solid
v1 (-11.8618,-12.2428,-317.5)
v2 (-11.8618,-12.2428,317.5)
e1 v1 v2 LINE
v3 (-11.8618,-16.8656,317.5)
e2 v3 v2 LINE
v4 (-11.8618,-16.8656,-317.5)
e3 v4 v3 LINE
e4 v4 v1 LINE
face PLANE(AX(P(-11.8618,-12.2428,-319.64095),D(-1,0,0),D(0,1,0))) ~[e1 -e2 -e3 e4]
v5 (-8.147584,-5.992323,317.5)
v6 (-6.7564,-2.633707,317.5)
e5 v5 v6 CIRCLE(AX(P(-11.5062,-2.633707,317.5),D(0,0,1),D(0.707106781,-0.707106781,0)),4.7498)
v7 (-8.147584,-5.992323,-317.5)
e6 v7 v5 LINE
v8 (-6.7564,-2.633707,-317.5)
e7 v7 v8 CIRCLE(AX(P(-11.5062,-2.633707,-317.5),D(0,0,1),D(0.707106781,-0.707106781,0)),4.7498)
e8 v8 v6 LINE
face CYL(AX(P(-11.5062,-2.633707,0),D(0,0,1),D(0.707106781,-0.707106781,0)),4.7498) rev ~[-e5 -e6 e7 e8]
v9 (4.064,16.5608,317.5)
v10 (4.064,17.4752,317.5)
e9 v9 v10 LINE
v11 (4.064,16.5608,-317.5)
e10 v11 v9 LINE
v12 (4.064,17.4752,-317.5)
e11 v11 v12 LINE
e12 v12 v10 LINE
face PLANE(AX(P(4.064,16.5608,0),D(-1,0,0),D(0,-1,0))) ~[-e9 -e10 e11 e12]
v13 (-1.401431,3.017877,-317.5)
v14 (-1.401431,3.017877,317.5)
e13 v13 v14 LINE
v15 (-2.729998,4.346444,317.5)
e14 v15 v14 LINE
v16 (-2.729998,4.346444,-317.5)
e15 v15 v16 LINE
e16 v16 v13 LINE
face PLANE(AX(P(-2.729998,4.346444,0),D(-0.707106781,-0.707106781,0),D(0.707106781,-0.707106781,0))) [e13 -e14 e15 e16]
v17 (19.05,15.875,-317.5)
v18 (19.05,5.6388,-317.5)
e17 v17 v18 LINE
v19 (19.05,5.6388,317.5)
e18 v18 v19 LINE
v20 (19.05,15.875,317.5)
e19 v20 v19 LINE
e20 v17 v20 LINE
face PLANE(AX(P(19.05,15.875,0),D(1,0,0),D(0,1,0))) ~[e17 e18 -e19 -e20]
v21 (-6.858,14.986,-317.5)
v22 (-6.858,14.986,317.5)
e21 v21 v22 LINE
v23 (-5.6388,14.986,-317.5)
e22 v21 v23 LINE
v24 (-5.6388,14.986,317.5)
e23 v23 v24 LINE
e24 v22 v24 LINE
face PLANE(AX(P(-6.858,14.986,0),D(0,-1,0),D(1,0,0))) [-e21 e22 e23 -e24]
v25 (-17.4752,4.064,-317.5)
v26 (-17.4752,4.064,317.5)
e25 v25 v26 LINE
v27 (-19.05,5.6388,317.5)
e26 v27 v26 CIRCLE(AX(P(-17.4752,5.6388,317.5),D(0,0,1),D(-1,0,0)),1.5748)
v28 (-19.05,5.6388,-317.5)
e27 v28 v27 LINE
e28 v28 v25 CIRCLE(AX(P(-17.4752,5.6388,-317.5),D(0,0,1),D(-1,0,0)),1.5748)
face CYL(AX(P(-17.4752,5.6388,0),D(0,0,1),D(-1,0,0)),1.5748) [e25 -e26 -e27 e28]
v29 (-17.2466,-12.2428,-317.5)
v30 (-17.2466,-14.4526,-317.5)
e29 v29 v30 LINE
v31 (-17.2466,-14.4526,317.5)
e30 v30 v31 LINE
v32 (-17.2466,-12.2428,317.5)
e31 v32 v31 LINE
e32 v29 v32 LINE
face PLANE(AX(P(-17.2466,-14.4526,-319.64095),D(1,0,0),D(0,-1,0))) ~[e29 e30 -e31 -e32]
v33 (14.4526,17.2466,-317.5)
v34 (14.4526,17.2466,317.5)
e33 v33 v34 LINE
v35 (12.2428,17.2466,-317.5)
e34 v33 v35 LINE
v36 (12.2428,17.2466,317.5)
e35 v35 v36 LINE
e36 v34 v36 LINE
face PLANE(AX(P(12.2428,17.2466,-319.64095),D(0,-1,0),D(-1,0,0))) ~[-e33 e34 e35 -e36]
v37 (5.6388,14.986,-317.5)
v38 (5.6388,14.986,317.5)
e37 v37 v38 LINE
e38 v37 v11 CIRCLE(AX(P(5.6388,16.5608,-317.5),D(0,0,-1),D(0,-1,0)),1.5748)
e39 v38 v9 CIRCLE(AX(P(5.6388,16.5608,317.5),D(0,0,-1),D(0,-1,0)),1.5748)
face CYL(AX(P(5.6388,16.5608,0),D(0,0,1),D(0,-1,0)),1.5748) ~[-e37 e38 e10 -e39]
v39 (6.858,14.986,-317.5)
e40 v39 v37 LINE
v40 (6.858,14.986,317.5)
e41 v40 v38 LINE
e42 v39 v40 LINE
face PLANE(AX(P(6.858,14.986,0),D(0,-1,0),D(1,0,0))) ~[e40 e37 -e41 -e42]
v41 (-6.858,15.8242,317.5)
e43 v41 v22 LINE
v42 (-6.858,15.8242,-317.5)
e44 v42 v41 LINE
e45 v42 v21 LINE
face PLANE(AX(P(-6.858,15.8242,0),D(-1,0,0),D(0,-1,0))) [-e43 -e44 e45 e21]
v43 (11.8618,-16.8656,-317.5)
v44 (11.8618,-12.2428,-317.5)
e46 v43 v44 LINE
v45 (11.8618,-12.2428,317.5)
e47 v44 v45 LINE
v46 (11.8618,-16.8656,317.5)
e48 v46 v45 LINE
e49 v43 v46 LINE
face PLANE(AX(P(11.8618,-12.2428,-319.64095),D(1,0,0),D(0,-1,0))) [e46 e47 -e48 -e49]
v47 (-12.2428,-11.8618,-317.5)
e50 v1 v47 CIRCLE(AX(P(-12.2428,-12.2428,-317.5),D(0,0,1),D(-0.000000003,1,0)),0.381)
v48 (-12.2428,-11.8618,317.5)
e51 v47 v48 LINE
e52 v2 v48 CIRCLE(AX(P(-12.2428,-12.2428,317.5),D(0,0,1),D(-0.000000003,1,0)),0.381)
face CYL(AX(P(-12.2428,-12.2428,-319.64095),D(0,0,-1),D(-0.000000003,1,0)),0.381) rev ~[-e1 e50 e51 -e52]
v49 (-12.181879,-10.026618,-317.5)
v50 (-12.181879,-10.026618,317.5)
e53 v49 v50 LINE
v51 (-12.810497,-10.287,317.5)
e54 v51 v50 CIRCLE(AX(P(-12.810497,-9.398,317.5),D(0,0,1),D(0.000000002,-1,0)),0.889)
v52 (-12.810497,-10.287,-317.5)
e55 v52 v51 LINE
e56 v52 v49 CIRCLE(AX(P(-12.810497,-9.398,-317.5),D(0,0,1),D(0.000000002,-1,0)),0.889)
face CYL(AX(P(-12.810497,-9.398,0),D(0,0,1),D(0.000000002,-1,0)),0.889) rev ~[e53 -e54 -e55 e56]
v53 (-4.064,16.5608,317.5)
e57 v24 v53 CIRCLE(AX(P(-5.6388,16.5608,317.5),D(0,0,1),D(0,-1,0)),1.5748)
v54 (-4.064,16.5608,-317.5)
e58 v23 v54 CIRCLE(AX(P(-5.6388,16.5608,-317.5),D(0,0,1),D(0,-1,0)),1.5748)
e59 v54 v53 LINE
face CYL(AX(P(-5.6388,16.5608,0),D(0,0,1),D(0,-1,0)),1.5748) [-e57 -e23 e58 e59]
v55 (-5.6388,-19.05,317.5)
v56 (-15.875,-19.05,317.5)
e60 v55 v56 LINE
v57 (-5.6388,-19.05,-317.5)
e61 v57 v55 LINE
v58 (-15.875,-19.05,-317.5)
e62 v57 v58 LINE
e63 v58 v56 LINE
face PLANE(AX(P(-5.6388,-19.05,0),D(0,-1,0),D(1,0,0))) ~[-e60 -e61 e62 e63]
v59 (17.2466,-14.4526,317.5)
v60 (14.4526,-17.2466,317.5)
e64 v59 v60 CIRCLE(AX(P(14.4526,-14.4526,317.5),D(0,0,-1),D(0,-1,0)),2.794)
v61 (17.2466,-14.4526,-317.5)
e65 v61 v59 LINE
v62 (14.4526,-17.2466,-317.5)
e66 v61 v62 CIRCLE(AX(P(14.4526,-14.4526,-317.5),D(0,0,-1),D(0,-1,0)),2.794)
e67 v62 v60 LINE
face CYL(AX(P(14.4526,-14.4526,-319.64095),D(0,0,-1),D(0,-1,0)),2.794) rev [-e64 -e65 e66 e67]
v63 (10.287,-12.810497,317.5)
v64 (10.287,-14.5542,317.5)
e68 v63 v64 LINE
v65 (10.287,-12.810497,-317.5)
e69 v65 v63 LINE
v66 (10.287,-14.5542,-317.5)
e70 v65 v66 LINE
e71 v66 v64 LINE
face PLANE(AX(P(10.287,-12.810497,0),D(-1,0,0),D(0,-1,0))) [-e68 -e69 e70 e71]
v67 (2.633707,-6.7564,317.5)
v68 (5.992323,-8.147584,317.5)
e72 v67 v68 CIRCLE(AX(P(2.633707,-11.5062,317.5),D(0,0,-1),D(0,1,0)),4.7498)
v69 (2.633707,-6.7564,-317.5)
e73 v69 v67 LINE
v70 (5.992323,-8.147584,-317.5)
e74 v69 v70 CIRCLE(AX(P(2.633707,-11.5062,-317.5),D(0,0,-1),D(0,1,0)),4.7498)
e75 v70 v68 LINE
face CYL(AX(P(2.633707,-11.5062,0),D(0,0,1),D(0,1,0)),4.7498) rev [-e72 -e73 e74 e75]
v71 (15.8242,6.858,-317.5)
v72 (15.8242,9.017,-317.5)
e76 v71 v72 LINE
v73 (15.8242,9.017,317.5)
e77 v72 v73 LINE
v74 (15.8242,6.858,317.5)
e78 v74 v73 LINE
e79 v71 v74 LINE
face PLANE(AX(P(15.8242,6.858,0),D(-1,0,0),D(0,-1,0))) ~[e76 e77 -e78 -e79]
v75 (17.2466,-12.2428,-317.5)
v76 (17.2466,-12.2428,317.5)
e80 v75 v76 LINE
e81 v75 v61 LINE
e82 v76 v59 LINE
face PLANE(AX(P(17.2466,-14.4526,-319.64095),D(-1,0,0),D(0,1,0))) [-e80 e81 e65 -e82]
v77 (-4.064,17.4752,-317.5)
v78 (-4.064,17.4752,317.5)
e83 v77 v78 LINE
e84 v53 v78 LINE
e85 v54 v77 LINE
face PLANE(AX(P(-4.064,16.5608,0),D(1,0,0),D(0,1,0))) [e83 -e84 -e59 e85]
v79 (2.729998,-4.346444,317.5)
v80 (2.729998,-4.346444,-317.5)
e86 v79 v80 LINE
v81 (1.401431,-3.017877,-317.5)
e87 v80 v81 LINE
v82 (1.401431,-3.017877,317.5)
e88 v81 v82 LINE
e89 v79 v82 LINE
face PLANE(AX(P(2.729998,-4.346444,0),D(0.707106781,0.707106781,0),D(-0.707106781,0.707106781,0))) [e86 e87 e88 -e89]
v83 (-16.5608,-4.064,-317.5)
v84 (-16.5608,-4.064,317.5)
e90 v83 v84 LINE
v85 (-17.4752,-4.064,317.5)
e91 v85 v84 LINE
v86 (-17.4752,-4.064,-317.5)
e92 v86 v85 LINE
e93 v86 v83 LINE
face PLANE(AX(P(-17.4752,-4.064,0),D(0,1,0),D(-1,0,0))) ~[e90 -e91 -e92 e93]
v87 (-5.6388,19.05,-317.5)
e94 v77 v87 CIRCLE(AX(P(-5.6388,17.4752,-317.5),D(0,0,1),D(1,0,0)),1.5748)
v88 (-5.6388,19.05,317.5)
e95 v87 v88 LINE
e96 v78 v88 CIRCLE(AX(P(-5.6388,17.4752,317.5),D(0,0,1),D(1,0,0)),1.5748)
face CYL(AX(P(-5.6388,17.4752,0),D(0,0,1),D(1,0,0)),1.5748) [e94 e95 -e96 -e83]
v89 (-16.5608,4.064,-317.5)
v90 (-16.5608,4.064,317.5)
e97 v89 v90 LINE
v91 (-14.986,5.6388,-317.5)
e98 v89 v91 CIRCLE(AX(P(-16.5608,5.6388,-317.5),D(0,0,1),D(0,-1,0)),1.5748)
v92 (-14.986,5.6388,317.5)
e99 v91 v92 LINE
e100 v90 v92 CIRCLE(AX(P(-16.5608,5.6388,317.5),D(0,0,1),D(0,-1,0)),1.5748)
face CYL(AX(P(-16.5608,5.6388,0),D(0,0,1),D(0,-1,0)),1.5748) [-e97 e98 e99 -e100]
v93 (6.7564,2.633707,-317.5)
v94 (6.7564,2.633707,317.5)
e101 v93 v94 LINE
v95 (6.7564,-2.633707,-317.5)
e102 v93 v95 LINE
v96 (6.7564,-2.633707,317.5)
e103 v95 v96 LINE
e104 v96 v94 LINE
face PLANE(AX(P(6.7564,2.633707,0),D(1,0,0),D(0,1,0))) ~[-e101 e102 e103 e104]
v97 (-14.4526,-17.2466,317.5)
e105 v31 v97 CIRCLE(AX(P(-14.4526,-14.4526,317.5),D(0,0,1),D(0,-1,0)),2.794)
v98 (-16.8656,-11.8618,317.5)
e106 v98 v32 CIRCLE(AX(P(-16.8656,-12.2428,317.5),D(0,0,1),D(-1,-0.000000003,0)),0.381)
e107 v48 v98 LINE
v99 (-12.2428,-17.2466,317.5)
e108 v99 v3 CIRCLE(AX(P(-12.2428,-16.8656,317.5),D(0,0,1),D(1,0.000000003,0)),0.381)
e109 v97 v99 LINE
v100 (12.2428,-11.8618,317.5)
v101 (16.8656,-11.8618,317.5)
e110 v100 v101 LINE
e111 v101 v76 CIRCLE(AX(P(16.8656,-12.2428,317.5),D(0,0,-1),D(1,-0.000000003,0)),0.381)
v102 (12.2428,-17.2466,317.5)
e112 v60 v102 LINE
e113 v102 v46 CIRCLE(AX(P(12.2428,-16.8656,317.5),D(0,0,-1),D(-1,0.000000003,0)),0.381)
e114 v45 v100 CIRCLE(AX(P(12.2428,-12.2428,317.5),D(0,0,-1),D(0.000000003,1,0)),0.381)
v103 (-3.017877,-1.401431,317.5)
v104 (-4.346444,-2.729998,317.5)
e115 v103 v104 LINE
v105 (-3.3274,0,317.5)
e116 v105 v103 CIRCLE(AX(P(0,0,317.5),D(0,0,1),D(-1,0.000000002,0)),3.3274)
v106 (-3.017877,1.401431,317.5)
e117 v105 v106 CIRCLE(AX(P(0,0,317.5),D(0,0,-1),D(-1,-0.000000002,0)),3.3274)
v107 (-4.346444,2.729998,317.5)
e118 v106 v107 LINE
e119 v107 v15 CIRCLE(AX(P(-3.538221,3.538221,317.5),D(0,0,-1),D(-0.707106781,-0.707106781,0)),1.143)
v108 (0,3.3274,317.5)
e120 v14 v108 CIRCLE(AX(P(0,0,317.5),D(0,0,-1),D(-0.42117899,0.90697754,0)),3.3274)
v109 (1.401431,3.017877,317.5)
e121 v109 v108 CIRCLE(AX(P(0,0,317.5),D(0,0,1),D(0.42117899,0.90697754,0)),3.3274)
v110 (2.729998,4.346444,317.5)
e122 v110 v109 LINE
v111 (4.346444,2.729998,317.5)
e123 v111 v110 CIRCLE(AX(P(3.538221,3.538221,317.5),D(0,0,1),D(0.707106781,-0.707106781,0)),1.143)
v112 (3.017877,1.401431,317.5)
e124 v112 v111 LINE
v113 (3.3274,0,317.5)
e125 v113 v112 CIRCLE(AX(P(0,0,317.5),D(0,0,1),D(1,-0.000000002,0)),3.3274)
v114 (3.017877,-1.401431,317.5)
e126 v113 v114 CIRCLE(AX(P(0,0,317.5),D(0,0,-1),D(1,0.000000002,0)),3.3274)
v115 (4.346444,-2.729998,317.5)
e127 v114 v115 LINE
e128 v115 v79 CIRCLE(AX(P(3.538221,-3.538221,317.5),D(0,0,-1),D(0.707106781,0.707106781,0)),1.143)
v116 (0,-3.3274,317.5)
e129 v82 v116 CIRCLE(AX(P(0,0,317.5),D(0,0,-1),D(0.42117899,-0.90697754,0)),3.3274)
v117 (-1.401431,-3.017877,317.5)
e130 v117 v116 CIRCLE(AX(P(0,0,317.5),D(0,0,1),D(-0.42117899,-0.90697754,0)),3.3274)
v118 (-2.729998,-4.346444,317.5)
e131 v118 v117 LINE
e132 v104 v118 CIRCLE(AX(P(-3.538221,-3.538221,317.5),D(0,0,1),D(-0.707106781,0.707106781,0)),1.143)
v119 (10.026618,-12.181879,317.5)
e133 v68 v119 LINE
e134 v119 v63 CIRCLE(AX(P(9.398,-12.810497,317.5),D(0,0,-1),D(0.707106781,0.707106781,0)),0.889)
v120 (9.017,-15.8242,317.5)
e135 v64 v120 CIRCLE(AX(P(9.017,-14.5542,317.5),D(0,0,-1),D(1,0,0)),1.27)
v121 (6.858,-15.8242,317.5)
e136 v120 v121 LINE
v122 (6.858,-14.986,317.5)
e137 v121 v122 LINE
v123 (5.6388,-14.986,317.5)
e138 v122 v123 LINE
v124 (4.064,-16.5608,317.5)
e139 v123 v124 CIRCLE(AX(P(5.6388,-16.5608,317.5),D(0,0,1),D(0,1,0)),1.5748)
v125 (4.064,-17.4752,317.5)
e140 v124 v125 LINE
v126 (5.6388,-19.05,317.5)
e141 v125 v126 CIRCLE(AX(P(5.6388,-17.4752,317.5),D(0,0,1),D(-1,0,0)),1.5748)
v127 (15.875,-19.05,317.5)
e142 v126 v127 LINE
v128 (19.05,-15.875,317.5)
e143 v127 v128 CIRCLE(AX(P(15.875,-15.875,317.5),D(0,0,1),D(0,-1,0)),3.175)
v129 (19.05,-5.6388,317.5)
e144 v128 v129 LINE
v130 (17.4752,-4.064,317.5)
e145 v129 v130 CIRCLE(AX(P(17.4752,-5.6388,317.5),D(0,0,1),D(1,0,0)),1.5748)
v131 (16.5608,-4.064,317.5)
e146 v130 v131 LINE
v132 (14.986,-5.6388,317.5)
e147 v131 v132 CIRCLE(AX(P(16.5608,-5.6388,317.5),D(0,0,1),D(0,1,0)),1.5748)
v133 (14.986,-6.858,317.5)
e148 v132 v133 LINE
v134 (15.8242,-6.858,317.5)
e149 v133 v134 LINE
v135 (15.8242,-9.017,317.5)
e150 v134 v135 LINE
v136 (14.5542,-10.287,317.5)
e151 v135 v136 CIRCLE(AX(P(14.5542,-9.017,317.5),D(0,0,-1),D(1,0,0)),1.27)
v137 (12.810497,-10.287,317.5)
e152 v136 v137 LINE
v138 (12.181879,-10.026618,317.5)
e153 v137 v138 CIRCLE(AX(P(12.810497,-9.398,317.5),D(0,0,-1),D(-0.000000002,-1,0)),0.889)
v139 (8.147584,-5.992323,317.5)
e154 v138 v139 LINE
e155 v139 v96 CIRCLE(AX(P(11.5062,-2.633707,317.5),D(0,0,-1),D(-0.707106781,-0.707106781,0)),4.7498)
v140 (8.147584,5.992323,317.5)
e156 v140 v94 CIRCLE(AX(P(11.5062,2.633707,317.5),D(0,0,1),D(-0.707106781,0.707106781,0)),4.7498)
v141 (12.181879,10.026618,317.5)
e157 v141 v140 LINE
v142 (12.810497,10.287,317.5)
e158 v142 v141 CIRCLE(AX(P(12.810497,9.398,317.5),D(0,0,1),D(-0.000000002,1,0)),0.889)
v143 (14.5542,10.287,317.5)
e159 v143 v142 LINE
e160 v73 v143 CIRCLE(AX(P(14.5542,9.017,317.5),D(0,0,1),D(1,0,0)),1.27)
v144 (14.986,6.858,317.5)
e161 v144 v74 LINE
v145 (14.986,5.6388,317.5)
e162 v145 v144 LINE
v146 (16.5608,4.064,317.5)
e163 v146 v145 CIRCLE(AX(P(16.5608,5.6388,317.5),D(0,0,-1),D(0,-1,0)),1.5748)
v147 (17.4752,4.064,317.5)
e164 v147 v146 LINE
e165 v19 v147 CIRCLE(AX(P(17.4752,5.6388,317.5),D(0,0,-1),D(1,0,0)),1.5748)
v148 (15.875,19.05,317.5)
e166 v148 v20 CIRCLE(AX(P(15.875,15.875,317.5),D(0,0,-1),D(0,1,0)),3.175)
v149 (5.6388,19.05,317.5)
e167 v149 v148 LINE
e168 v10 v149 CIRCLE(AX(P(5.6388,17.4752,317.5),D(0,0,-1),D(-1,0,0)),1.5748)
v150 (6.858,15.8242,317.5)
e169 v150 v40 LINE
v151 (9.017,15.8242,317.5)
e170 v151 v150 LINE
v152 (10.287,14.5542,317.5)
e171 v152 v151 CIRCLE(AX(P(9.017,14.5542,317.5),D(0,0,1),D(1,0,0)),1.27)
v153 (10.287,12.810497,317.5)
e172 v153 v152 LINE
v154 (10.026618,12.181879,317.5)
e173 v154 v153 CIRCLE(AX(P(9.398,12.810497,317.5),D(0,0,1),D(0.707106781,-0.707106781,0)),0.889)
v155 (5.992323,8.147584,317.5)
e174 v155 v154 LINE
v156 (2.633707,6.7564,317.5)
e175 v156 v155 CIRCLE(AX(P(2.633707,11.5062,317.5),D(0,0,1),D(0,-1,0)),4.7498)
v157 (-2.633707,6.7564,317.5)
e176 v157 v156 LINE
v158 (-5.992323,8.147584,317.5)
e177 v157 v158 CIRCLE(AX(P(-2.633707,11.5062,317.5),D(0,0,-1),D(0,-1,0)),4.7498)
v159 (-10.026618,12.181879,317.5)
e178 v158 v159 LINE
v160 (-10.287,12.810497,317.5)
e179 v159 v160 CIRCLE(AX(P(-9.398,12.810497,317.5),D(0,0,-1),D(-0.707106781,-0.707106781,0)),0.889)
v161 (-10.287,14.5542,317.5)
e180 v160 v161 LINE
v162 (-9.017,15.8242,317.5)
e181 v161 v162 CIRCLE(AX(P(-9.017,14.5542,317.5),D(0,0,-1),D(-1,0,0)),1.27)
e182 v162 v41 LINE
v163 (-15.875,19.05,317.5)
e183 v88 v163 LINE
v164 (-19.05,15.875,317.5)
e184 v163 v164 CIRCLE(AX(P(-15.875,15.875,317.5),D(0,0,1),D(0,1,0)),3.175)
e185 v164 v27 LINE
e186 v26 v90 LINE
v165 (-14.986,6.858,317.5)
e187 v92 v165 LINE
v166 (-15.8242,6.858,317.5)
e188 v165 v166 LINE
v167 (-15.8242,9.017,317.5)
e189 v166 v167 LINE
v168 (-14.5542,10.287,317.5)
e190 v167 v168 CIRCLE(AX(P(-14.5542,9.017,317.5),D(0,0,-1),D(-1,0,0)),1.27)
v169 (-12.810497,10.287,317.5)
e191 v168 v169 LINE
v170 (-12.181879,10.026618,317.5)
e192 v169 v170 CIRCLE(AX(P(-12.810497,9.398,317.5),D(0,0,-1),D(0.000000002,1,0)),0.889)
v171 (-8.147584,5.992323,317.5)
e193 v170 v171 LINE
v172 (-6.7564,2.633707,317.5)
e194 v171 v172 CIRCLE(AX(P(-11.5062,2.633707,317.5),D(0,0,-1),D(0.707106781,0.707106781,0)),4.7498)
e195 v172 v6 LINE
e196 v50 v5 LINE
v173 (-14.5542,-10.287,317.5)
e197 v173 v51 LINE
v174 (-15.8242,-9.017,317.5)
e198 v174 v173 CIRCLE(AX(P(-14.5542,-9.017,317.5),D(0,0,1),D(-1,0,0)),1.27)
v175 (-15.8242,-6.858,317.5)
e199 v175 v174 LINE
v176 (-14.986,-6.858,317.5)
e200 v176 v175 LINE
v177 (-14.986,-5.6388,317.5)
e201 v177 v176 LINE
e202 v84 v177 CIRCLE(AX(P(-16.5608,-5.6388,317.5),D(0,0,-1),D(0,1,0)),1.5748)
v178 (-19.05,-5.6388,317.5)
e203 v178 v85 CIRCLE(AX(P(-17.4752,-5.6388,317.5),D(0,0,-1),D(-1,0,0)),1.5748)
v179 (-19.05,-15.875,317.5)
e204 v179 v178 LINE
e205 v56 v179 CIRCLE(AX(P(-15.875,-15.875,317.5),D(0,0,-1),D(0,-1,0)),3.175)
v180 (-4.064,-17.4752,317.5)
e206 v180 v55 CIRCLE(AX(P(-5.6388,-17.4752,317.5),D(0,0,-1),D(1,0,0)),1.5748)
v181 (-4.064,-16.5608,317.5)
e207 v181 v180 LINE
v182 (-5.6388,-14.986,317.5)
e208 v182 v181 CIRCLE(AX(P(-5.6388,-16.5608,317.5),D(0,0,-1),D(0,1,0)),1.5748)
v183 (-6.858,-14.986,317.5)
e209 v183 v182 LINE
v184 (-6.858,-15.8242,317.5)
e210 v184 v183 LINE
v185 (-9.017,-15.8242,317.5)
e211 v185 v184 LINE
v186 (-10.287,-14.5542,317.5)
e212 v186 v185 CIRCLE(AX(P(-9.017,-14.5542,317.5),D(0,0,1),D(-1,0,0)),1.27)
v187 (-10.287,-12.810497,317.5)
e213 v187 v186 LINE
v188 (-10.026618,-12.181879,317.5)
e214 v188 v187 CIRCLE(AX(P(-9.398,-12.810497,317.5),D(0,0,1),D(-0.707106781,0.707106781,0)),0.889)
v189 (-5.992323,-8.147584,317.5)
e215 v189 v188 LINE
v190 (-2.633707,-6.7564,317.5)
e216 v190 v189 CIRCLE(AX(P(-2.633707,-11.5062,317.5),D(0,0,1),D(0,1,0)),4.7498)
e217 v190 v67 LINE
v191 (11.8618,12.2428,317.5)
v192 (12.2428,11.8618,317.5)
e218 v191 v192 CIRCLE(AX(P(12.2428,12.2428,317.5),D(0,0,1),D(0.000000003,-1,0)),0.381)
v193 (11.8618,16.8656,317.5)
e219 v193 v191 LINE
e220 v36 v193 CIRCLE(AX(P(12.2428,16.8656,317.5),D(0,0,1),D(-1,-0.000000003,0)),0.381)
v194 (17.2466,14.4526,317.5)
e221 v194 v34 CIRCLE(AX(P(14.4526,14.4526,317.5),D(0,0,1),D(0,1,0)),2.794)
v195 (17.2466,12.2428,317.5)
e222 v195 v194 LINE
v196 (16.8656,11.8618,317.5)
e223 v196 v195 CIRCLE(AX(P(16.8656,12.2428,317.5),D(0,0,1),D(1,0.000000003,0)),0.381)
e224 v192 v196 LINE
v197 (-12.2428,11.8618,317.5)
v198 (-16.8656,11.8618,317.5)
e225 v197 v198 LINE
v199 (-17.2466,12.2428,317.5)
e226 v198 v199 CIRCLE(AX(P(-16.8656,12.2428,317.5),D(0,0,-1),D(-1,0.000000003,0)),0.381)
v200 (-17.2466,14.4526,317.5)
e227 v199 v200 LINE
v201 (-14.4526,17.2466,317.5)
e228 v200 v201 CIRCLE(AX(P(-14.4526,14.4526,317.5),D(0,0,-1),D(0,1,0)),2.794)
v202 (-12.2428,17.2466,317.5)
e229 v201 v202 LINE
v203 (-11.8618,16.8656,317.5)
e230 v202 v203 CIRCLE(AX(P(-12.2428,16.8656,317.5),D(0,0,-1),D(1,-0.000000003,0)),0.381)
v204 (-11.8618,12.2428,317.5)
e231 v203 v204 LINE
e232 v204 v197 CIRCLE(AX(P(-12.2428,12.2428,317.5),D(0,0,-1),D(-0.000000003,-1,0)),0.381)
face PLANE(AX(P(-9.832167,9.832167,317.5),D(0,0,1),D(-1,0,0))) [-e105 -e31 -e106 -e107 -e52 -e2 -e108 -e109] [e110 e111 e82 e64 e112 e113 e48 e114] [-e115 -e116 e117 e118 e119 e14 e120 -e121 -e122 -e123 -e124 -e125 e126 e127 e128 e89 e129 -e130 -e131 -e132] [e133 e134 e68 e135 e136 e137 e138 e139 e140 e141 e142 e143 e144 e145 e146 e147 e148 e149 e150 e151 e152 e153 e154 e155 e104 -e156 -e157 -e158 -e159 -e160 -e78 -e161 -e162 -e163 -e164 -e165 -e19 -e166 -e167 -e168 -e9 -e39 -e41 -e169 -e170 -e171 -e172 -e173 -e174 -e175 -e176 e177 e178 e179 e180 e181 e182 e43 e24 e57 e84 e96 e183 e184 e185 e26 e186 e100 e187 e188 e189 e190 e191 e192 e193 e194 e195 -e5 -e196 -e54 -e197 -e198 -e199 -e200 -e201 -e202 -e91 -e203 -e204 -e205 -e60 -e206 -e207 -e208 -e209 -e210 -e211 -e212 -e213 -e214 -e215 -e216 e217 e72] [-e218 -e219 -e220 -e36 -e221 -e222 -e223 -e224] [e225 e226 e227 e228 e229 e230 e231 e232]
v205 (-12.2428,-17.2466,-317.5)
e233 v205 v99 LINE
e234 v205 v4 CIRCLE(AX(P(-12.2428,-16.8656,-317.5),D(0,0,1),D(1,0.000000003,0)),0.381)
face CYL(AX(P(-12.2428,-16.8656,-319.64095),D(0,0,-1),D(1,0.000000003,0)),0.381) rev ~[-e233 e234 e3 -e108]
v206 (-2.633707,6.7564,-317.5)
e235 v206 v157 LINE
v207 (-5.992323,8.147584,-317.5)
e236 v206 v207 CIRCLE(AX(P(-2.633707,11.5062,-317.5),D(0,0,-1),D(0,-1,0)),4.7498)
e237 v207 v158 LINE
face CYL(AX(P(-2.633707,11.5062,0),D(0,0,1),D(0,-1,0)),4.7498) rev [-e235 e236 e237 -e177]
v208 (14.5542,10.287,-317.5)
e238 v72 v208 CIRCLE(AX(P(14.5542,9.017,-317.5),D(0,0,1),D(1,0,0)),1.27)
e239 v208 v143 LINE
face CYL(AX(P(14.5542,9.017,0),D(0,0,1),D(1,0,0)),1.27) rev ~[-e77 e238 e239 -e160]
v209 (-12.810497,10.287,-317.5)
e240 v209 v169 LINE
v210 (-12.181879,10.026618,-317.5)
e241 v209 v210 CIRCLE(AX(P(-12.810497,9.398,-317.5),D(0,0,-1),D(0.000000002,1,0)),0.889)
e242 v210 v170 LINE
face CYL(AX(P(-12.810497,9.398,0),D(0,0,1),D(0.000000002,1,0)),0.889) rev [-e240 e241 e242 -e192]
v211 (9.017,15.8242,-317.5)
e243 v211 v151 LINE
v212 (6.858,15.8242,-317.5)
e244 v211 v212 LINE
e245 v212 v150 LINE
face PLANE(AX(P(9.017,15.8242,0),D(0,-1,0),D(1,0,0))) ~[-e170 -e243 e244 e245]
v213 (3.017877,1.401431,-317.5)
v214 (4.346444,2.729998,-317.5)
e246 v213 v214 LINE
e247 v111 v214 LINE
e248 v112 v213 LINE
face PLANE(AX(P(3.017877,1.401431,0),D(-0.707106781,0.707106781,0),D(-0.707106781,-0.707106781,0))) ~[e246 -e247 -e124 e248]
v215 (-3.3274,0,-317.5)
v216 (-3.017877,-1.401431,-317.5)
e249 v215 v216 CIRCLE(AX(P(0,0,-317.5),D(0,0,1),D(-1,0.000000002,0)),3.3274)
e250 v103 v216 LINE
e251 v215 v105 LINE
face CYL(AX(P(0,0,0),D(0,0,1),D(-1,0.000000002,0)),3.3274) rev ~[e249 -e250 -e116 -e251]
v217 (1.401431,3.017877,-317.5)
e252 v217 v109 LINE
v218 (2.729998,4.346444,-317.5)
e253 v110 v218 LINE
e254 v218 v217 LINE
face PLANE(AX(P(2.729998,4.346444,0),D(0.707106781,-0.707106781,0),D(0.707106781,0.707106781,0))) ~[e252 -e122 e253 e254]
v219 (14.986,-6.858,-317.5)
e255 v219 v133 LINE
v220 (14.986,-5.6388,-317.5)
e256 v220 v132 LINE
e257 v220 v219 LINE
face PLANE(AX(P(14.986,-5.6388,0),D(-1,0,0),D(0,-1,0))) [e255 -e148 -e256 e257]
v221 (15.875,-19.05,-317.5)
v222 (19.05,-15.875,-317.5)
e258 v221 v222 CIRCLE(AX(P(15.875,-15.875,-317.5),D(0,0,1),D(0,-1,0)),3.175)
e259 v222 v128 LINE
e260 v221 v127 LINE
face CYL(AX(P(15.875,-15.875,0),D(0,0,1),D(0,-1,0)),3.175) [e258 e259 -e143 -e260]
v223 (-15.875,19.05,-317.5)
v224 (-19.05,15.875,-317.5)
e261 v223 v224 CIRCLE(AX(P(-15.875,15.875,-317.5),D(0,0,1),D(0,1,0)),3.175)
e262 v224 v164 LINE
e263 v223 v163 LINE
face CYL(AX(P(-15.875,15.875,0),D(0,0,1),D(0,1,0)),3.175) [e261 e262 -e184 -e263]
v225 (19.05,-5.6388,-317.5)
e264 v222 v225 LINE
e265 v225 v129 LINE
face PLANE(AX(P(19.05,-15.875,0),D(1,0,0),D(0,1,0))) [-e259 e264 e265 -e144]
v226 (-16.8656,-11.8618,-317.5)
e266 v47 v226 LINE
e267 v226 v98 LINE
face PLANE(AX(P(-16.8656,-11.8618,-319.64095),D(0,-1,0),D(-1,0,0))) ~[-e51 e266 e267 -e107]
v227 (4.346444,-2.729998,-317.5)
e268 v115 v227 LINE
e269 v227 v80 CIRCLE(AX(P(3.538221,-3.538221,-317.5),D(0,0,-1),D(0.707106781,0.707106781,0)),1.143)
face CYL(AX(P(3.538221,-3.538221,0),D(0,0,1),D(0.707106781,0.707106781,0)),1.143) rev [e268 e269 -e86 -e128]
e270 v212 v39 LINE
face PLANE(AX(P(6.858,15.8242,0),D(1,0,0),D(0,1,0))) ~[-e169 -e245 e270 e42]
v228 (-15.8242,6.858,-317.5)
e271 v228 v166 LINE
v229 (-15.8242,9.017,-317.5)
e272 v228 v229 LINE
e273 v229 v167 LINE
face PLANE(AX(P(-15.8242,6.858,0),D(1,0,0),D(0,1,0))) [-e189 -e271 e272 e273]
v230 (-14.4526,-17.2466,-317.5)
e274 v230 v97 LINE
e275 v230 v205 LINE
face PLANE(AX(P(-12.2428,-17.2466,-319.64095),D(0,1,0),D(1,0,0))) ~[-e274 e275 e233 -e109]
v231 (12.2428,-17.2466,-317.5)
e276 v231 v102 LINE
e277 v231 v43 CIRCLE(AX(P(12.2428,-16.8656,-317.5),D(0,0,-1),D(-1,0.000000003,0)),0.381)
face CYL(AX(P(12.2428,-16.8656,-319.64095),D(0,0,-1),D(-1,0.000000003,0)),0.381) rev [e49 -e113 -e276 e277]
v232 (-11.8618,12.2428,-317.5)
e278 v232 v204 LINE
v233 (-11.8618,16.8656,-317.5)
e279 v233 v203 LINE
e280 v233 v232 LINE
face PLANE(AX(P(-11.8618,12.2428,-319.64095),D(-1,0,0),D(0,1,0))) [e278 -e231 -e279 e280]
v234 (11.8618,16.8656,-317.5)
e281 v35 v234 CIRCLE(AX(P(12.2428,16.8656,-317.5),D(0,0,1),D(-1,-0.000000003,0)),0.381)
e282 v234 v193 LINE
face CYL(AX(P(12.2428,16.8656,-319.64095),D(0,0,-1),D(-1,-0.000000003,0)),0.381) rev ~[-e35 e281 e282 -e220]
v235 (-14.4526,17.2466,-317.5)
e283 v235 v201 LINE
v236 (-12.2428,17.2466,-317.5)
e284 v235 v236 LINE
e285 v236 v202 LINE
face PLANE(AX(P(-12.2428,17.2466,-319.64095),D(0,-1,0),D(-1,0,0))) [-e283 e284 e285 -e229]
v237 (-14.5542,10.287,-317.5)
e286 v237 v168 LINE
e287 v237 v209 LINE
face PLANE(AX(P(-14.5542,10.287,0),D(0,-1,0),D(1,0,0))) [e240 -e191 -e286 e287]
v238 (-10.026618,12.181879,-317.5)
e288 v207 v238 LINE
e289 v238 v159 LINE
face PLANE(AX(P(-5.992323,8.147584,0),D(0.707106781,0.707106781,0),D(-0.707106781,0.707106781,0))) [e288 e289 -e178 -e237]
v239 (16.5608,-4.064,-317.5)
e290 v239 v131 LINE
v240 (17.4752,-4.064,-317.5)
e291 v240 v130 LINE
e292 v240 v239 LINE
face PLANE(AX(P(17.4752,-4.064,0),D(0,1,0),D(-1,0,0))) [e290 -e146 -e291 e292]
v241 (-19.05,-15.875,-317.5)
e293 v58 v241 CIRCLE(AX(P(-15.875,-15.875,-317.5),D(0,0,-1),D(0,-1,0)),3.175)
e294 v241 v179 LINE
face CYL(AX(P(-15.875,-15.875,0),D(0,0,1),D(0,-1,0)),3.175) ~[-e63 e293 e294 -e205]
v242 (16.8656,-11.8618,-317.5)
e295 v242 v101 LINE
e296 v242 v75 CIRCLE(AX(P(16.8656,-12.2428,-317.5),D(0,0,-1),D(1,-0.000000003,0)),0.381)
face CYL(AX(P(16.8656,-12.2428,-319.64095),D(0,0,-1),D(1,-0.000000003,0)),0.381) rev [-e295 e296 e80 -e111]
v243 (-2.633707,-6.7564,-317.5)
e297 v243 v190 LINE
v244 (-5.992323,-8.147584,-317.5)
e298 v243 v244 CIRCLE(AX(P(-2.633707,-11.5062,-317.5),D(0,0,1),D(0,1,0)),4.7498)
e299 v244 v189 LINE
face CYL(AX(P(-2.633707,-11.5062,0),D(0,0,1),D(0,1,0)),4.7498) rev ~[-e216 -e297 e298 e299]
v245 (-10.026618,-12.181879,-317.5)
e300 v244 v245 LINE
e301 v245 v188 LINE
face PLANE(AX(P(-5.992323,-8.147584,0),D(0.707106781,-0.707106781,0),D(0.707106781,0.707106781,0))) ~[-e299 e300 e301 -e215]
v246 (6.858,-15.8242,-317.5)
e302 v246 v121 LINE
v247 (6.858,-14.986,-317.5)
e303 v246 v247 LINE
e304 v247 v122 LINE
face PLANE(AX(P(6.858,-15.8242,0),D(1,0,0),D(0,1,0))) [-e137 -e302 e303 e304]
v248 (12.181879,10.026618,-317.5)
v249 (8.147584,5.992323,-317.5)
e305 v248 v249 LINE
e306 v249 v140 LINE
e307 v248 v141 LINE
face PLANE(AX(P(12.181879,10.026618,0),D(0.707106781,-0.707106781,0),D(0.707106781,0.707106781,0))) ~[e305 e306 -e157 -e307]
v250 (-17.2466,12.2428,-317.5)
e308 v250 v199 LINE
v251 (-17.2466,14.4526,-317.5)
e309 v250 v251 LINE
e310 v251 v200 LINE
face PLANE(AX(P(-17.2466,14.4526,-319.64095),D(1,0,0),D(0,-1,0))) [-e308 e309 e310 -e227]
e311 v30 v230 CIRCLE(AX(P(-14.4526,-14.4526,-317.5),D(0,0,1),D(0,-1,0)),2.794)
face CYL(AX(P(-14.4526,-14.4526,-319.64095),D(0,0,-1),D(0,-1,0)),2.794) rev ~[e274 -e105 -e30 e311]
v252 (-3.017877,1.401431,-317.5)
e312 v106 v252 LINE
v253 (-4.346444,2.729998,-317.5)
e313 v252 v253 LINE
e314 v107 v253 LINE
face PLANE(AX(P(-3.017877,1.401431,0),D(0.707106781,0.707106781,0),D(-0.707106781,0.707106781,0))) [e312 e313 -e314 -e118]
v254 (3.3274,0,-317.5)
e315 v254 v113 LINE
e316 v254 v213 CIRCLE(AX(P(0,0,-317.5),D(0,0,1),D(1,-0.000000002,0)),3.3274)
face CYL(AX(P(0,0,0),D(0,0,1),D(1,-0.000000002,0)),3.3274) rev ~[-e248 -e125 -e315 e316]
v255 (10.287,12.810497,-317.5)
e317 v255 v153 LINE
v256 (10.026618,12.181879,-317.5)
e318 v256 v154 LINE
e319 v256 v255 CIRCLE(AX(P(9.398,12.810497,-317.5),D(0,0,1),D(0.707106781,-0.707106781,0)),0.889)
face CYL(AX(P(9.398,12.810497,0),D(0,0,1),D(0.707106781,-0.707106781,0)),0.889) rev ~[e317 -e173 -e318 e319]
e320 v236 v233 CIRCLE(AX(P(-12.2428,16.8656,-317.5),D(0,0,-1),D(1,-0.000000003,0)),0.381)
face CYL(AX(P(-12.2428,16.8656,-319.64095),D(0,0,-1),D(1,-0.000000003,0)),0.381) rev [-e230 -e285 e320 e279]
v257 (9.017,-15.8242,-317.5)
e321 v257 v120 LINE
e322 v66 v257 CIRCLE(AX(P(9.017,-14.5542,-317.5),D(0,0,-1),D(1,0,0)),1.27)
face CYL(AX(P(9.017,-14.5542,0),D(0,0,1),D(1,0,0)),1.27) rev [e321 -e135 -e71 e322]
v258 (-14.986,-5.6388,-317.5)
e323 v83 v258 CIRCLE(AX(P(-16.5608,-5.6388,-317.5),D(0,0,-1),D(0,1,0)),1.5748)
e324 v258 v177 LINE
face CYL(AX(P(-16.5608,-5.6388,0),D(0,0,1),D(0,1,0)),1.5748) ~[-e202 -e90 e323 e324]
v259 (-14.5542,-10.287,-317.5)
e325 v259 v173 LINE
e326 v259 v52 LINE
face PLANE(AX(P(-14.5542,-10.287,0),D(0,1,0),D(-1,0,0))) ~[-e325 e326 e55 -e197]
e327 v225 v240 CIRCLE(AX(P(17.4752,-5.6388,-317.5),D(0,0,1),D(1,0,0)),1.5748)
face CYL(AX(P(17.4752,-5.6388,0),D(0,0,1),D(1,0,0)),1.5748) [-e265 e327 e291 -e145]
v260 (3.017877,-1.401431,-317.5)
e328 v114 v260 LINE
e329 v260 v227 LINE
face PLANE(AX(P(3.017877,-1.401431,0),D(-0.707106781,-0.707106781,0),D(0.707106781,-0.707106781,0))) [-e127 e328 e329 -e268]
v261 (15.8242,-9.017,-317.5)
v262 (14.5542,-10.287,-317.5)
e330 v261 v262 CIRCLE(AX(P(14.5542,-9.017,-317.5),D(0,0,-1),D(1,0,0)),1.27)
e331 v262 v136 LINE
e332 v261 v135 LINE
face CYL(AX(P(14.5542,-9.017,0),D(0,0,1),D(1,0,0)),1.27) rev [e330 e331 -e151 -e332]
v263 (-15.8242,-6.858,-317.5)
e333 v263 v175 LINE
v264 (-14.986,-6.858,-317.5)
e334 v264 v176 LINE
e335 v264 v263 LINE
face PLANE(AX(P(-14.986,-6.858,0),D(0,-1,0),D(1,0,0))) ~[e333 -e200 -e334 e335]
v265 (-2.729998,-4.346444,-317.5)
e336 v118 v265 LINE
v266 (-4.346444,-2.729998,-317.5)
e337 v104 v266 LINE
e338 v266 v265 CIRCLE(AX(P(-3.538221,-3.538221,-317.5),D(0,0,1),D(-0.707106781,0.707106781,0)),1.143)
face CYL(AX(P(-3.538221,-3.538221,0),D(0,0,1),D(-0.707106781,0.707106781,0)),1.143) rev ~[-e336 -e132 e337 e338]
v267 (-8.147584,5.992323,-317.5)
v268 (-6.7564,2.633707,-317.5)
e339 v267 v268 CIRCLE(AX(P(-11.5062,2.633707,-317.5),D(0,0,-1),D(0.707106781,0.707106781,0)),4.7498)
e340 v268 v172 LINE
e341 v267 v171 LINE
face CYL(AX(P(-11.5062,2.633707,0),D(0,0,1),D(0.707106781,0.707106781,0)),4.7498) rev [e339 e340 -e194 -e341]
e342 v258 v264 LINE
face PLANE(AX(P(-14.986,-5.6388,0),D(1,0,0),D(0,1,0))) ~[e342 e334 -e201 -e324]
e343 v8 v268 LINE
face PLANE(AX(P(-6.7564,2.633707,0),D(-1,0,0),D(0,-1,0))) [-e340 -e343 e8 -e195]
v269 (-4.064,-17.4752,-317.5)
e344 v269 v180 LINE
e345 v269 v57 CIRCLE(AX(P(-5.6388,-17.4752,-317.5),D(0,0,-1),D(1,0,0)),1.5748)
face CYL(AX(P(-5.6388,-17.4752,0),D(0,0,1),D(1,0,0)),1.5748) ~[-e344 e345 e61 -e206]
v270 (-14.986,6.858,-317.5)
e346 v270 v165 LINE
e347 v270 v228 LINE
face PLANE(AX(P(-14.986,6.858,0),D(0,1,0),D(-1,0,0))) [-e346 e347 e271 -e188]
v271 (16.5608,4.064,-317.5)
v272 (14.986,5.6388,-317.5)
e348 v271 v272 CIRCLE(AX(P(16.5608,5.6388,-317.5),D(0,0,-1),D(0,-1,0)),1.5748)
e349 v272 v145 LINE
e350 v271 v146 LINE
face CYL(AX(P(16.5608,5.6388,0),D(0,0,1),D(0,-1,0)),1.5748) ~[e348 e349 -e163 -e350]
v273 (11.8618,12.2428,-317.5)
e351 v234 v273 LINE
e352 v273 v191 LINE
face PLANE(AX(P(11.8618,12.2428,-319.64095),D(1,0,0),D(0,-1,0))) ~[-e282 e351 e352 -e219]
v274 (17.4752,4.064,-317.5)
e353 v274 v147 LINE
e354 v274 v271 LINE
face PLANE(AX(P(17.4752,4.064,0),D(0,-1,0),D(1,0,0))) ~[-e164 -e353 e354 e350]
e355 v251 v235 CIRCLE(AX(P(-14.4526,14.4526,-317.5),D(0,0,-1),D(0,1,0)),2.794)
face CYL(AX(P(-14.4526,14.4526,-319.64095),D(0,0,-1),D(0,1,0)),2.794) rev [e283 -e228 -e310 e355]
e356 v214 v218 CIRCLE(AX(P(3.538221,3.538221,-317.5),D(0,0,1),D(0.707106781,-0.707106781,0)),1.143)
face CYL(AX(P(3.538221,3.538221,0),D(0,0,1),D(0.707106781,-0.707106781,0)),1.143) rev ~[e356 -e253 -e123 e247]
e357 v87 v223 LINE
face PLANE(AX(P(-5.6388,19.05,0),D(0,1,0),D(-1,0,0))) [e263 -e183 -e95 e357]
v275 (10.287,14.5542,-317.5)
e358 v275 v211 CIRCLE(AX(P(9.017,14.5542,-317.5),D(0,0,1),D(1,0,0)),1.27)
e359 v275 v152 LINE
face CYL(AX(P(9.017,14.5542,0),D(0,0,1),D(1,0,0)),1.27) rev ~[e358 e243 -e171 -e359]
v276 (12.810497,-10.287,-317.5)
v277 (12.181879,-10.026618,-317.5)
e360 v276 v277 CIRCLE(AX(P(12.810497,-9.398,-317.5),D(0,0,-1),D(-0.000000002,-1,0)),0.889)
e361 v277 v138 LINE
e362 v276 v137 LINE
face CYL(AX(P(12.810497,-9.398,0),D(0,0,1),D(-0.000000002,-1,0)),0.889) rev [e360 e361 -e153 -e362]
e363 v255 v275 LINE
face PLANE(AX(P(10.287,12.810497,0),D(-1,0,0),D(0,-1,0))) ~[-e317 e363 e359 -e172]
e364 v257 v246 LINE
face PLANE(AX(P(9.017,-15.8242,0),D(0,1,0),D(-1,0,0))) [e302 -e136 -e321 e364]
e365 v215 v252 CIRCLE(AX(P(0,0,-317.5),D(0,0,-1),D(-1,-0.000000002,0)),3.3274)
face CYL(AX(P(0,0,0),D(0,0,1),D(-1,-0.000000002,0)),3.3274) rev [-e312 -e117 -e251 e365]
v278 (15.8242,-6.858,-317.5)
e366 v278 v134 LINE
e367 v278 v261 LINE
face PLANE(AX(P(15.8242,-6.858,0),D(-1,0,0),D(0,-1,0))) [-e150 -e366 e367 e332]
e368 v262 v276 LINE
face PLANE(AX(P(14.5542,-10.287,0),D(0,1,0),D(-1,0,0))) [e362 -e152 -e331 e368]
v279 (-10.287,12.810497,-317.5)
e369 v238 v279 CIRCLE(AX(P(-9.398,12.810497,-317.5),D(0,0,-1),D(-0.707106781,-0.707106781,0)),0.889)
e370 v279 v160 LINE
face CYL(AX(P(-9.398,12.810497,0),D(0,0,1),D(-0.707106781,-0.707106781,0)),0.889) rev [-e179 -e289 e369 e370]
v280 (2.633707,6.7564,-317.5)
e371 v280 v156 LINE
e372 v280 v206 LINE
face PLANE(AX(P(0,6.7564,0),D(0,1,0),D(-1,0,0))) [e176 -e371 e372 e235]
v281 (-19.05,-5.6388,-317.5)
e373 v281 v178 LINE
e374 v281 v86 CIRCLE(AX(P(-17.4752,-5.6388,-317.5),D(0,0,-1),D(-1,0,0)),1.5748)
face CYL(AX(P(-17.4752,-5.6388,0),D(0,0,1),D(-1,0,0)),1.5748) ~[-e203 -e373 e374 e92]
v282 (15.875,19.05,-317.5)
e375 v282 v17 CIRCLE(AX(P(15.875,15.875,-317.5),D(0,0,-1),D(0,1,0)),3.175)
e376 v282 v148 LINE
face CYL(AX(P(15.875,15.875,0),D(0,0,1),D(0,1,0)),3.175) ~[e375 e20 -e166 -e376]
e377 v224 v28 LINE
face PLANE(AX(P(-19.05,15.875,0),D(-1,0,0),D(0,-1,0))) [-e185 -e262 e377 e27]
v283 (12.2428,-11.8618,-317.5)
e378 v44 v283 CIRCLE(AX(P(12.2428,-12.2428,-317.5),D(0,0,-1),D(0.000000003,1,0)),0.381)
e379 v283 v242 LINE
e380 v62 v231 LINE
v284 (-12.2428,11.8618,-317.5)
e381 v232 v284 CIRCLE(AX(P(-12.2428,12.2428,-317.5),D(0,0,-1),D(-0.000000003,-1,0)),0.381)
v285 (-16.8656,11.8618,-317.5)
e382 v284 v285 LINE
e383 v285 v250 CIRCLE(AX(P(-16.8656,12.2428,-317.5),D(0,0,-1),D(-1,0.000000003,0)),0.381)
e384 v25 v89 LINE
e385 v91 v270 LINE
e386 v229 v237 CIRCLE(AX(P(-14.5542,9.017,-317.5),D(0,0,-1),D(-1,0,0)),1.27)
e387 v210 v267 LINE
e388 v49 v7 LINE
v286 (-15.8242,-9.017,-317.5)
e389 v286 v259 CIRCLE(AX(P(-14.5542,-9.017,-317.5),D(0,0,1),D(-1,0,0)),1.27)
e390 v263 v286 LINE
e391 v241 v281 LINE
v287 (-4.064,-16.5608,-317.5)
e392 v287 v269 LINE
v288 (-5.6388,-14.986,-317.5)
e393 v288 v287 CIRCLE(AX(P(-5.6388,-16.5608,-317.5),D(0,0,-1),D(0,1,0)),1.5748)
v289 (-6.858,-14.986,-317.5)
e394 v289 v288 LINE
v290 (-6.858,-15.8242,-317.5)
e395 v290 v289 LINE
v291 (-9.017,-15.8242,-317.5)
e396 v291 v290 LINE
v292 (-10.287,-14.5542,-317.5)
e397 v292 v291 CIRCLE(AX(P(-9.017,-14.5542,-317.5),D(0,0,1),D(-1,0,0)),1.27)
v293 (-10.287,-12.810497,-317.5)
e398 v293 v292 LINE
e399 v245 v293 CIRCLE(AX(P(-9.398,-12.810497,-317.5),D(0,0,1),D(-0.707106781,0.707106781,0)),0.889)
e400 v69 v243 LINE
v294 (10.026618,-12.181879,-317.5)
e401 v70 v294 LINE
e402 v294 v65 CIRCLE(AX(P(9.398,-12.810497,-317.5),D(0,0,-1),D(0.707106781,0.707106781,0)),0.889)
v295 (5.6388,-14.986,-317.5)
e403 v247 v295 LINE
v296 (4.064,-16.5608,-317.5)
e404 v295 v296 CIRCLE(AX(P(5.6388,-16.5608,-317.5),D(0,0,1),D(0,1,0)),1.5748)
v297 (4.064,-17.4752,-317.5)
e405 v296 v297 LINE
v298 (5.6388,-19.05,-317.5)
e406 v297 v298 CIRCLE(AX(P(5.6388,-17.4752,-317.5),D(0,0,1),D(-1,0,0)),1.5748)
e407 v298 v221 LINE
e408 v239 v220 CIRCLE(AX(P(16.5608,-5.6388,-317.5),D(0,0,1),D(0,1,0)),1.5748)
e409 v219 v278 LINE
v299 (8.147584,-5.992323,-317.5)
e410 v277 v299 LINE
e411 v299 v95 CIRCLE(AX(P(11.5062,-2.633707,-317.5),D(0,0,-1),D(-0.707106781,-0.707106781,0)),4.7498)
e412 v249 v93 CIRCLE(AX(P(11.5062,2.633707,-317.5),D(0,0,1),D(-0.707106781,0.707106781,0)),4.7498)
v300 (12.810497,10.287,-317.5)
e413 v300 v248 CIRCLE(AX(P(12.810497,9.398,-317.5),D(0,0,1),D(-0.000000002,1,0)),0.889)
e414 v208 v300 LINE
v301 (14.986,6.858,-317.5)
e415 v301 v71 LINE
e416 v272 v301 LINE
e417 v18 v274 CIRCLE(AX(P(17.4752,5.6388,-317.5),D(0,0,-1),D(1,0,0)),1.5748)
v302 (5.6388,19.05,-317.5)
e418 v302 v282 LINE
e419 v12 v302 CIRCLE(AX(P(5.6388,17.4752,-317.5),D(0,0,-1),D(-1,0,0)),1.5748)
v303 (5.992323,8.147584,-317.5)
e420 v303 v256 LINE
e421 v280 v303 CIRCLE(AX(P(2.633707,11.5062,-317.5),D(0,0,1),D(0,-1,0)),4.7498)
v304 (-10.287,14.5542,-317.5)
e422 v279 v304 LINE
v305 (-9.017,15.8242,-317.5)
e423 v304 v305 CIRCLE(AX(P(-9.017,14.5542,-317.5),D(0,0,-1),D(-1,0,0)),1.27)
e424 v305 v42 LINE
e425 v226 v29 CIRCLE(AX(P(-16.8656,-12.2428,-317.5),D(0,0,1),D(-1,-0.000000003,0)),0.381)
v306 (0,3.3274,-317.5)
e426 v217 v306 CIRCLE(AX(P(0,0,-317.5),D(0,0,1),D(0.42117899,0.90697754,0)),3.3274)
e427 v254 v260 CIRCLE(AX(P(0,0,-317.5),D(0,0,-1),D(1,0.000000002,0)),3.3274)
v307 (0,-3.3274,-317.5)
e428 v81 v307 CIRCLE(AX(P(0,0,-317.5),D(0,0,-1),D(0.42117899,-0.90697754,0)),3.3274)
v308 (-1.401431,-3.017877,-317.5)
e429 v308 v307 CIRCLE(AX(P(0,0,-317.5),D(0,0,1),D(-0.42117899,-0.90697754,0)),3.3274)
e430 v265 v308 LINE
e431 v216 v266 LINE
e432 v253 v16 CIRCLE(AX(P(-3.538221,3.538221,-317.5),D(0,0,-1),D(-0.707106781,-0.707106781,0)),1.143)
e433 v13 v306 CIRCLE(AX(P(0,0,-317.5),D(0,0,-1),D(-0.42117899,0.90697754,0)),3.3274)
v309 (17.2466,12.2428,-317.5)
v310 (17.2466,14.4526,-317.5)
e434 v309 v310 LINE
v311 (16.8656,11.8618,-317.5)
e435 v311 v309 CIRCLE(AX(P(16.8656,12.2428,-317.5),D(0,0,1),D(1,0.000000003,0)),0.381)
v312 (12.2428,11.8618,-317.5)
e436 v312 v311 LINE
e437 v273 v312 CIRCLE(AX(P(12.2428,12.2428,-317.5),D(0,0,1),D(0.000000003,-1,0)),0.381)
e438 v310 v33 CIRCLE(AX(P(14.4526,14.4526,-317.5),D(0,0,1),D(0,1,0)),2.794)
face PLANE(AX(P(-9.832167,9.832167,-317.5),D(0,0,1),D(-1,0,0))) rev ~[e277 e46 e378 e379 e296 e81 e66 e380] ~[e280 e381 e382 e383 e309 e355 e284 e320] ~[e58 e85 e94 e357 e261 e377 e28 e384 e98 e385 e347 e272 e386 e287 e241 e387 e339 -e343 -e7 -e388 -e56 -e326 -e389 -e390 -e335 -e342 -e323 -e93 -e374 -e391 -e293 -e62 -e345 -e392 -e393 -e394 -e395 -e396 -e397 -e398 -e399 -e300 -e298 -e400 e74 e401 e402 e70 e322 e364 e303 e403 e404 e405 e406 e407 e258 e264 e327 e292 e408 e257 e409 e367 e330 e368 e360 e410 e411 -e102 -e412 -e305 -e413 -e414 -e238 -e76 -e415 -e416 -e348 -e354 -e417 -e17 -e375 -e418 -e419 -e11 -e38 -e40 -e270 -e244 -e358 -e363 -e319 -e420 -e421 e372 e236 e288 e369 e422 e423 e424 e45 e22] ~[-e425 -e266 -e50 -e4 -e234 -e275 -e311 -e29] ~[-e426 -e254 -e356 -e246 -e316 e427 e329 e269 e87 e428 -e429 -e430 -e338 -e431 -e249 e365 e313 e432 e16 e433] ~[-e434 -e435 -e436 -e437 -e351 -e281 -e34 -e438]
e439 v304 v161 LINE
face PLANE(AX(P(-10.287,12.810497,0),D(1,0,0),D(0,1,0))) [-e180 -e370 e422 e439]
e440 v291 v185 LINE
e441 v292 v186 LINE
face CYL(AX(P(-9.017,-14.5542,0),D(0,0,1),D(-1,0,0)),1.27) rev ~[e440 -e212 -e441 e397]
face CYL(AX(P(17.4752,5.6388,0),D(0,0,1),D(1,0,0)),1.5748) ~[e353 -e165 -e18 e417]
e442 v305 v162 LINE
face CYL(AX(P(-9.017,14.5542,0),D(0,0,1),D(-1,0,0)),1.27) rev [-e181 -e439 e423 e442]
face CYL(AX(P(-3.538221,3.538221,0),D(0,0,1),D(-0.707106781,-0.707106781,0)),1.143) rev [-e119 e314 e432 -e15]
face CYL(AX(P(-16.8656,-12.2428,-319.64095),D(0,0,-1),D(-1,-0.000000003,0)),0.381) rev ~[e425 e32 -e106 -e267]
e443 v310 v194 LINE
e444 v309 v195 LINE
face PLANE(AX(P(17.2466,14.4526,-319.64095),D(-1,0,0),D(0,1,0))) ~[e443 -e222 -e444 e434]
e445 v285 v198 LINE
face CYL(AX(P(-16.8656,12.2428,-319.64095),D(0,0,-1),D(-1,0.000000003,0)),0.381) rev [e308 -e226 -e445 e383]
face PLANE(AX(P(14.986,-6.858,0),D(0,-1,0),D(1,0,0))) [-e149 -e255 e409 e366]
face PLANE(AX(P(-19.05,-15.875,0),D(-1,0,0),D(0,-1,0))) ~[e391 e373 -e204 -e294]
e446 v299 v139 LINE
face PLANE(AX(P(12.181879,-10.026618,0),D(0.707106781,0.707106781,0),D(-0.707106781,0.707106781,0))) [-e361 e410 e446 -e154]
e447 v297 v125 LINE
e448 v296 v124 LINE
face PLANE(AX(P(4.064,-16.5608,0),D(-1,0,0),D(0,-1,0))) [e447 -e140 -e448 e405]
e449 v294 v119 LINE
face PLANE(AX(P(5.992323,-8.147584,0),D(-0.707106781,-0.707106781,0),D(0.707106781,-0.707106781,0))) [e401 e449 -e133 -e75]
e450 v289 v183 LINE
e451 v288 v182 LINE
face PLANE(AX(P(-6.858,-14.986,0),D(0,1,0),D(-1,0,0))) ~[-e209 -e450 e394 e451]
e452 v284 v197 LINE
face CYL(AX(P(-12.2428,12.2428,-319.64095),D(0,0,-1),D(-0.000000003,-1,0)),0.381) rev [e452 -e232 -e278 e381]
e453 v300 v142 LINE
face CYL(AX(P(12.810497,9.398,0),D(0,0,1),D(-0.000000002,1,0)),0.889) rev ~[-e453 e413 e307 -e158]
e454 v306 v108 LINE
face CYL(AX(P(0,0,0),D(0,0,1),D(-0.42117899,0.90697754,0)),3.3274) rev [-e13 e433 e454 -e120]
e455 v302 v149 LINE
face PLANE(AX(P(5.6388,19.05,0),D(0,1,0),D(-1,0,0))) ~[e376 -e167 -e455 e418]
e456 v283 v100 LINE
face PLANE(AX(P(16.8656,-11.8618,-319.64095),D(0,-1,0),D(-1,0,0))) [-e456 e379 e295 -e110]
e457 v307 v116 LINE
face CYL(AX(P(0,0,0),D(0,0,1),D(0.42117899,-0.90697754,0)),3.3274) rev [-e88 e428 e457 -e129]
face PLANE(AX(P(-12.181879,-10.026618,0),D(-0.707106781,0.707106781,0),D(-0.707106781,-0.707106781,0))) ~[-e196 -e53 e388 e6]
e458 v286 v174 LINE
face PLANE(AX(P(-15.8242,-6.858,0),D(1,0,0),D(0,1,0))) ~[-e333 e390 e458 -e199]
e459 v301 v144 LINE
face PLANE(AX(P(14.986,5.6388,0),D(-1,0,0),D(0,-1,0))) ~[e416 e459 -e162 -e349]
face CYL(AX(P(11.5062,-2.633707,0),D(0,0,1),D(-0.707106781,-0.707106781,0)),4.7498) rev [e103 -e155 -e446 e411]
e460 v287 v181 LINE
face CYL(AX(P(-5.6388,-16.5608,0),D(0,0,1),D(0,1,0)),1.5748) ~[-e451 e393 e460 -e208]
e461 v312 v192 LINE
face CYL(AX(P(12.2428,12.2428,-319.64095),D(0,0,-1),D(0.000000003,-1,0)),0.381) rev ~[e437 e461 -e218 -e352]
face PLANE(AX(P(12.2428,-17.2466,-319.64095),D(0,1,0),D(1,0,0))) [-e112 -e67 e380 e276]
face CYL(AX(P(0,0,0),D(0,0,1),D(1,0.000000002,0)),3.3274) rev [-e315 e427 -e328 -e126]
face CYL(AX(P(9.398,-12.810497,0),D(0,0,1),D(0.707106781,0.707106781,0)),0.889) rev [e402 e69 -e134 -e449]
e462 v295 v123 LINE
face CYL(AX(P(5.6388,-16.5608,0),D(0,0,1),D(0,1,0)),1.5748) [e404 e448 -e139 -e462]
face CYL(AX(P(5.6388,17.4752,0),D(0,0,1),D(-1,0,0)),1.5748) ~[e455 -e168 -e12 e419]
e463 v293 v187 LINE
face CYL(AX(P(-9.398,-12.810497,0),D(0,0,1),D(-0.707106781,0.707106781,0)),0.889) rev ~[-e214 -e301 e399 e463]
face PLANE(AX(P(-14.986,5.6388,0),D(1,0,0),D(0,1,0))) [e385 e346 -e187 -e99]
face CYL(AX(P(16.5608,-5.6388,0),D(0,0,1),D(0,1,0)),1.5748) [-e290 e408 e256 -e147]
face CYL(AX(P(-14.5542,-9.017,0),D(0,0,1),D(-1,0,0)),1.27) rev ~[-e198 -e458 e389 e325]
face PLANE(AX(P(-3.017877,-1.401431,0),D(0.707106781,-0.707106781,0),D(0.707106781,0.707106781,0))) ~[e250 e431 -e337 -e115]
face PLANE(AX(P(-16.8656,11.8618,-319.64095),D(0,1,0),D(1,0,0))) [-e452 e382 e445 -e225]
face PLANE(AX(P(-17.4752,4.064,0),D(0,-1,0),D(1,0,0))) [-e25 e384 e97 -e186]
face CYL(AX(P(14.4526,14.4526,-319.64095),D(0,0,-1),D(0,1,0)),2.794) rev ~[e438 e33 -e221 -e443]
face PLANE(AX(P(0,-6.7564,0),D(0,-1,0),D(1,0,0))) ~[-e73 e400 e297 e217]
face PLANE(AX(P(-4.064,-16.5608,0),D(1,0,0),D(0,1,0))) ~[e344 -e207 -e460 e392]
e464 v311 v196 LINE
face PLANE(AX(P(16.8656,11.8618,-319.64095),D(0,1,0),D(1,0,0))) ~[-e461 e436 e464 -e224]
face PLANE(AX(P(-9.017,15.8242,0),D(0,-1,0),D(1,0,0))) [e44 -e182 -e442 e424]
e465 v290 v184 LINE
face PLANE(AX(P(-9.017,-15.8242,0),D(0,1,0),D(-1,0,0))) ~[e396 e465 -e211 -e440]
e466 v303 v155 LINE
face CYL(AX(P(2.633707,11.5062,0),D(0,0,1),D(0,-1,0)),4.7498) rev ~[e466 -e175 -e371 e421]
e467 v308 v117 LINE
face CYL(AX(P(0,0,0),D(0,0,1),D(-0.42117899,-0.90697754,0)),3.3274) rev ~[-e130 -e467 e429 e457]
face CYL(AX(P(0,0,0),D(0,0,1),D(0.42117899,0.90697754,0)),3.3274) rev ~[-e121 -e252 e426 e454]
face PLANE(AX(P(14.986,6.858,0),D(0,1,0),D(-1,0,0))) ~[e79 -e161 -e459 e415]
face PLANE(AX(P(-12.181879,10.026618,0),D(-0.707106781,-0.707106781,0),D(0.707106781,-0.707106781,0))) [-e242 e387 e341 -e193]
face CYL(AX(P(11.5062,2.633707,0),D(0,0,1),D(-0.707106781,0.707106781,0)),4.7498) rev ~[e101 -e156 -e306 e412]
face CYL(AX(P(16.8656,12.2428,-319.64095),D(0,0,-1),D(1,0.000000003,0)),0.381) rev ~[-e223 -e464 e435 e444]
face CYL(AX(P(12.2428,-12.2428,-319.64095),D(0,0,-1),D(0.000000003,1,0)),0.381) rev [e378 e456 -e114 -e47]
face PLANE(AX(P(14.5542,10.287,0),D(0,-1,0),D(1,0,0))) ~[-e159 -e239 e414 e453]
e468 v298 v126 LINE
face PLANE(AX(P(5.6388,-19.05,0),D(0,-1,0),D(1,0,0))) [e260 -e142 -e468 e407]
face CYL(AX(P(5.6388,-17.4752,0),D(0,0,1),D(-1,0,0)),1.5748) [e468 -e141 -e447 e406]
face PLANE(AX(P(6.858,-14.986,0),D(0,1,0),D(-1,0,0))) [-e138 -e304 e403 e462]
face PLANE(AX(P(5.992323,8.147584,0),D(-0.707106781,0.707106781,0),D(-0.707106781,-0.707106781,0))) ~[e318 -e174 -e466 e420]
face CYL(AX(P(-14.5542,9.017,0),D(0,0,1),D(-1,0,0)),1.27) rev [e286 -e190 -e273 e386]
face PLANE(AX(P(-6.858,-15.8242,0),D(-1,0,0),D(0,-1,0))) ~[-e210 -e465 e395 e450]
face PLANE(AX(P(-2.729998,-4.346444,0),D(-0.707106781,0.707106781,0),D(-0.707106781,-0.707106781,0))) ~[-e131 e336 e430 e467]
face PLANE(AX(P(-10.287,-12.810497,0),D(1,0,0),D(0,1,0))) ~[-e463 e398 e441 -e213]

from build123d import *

# Parameters (mm, degrees)
BOSS_EXTRUDE1_DEPTH     = 317.5
CUT_EXTRUDE1_DEPTH      = 319.640949973
CUT_EXTRUDE1_DEPTH_BACK = 319.640949973


with BuildPart() as part:
    # Sketch4 → Boss-Extrude1 (new, symmetric)
    with BuildSketch(Plane.XY):
        with BuildLine():
            Line((2.729997861, -4.346443963), (1.401430967, -3.017877069))
            ThreePointArc((1.401430967, -3.017877069), (0.717602467, -3.249097946), (0, -3.3274))
            Line((0, -3.3274), (0, -6.7564))
            Line((0, -6.7564), (2.633706952, -6.7564))
            ThreePointArc((2.633706952, -6.7564), (4.451376719, -7.117956996), (5.992322742, -8.147584211))
            Line((5.992322742, -8.147584211), (10.026617928, -12.181879398))
            ThreePointArc((10.026617928, -12.181879398), (10.219328904, -12.470291755), (10.287, -12.810497326))
            Line((10.287, -12.810497326), (10.287, -14.5542))
            ThreePointArc((10.287, -14.5542), (9.915025612, -15.452225612), (9.017, -15.8242))
            Line((9.017, -15.8242), (6.858, -15.8242))
            Line((6.858, -15.8242), (6.858, -14.986))
            Line((6.858, -14.986), (5.6388, -14.986))
            ThreePointArc((5.6388, -14.986), (4.525248241, -15.447248241), (4.064, -16.5608))
            Line((4.064, -16.5608), (4.064, -17.4752))
            ThreePointArc((4.064, -17.4752), (4.525248241, -18.588751759), (5.6388, -19.05))
            Line((5.6388, -19.05), (15.875, -19.05))
            ThreePointArc((15.875, -19.05), (18.12006403, -18.12006403), (19.05, -15.875))
            Line((19.05, -15.875), (19.05, -5.6388))
            ThreePointArc((19.05, -5.6388), (18.588751759, -4.525248241), (17.4752, -4.064))
            Line((17.4752, -4.064), (16.5608, -4.064))
            ThreePointArc((16.5608, -4.064), (15.447248241, -4.525248241), (14.986, -5.6388))
            Line((14.986, -5.6388), (14.986, -6.858))
            Line((14.986, -6.858), (15.8242, -6.858))
            Line((15.8242, -6.858), (15.8242, -9.017))
            ThreePointArc((15.8242, -9.017), (15.452225612, -9.915025612), (14.5542, -10.287))
            Line((14.5542, -10.287), (12.810497326, -10.287))
            ThreePointArc((12.810497326, -10.287), (12.470291755, -10.219328904), (12.181879398, -10.026617928))
            Line((12.181879398, -10.026617928), (8.147584211, -5.992322742))
            ThreePointArc((8.147584211, -5.992322742), (7.117956996, -4.451376719), (6.7564, -2.633706952))
            Line((6.7564, -2.633706952), (6.7564, 0))
            Line((6.7564, 0), (3.3274, 0))
            ThreePointArc((3.3274, 0), (3.249097946, -0.717602467), (3.017877069, -1.401430967))
            Line((3.017877069, -1.401430967), (4.346443963, -2.729997861))
            ThreePointArc((4.346443963, -2.729997861), (4.346443963, -4.346443963), (2.729997861, -4.346443963))
        make_face()
    extrude(amount=BOSS_EXTRUDE1_DEPTH, both=True)

    # Sketch5 → Cut-Extrude1 (cut, two sides: drawn at the far end of the back side and taken through both)
    with BuildSketch(Plane.XY.offset(-CUT_EXTRUDE1_DEPTH_BACK)):
        with BuildLine():
            Line((16.8656, -11.8618), (12.2428, -11.8618))
            ThreePointArc((12.2428, -11.8618), (11.973392316, -11.973392316), (11.8618, -12.2428))
            Line((11.8618, -12.2428), (11.8618, -16.8656))
            ThreePointArc((11.8618, -16.8656), (11.973392316, -17.135007684), (12.2428, -17.2466))
            Line((12.2428, -17.2466), (14.4526, -17.2466))
            ThreePointArc((14.4526, -17.2466), (16.428256347, -16.428256347), (17.2466, -14.4526))
            Line((17.2466, -14.4526), (17.2466, -12.2428))
            ThreePointArc((17.2466, -12.2428), (17.135007684, -11.973392316), (16.8656, -11.8618))
        make_face()
    extrude(amount=CUT_EXTRUDE1_DEPTH + CUT_EXTRUDE1_DEPTH_BACK, mode=Mode.SUBTRACT)

    # Mirror1: part across plane


with BuildPart() as part_1:
    add(part.part)
    add(part.part.mirror(Plane(origin=(0, 0, 0), x_dir=(0, 0, 1), z_dir=(1, 0, 0))))

    # Mirror2: part across plane


with BuildPart() as part_2:
    add(part_1.part)
    add(part_1.part.mirror(Plane.ZX))


solid = part_2.part
